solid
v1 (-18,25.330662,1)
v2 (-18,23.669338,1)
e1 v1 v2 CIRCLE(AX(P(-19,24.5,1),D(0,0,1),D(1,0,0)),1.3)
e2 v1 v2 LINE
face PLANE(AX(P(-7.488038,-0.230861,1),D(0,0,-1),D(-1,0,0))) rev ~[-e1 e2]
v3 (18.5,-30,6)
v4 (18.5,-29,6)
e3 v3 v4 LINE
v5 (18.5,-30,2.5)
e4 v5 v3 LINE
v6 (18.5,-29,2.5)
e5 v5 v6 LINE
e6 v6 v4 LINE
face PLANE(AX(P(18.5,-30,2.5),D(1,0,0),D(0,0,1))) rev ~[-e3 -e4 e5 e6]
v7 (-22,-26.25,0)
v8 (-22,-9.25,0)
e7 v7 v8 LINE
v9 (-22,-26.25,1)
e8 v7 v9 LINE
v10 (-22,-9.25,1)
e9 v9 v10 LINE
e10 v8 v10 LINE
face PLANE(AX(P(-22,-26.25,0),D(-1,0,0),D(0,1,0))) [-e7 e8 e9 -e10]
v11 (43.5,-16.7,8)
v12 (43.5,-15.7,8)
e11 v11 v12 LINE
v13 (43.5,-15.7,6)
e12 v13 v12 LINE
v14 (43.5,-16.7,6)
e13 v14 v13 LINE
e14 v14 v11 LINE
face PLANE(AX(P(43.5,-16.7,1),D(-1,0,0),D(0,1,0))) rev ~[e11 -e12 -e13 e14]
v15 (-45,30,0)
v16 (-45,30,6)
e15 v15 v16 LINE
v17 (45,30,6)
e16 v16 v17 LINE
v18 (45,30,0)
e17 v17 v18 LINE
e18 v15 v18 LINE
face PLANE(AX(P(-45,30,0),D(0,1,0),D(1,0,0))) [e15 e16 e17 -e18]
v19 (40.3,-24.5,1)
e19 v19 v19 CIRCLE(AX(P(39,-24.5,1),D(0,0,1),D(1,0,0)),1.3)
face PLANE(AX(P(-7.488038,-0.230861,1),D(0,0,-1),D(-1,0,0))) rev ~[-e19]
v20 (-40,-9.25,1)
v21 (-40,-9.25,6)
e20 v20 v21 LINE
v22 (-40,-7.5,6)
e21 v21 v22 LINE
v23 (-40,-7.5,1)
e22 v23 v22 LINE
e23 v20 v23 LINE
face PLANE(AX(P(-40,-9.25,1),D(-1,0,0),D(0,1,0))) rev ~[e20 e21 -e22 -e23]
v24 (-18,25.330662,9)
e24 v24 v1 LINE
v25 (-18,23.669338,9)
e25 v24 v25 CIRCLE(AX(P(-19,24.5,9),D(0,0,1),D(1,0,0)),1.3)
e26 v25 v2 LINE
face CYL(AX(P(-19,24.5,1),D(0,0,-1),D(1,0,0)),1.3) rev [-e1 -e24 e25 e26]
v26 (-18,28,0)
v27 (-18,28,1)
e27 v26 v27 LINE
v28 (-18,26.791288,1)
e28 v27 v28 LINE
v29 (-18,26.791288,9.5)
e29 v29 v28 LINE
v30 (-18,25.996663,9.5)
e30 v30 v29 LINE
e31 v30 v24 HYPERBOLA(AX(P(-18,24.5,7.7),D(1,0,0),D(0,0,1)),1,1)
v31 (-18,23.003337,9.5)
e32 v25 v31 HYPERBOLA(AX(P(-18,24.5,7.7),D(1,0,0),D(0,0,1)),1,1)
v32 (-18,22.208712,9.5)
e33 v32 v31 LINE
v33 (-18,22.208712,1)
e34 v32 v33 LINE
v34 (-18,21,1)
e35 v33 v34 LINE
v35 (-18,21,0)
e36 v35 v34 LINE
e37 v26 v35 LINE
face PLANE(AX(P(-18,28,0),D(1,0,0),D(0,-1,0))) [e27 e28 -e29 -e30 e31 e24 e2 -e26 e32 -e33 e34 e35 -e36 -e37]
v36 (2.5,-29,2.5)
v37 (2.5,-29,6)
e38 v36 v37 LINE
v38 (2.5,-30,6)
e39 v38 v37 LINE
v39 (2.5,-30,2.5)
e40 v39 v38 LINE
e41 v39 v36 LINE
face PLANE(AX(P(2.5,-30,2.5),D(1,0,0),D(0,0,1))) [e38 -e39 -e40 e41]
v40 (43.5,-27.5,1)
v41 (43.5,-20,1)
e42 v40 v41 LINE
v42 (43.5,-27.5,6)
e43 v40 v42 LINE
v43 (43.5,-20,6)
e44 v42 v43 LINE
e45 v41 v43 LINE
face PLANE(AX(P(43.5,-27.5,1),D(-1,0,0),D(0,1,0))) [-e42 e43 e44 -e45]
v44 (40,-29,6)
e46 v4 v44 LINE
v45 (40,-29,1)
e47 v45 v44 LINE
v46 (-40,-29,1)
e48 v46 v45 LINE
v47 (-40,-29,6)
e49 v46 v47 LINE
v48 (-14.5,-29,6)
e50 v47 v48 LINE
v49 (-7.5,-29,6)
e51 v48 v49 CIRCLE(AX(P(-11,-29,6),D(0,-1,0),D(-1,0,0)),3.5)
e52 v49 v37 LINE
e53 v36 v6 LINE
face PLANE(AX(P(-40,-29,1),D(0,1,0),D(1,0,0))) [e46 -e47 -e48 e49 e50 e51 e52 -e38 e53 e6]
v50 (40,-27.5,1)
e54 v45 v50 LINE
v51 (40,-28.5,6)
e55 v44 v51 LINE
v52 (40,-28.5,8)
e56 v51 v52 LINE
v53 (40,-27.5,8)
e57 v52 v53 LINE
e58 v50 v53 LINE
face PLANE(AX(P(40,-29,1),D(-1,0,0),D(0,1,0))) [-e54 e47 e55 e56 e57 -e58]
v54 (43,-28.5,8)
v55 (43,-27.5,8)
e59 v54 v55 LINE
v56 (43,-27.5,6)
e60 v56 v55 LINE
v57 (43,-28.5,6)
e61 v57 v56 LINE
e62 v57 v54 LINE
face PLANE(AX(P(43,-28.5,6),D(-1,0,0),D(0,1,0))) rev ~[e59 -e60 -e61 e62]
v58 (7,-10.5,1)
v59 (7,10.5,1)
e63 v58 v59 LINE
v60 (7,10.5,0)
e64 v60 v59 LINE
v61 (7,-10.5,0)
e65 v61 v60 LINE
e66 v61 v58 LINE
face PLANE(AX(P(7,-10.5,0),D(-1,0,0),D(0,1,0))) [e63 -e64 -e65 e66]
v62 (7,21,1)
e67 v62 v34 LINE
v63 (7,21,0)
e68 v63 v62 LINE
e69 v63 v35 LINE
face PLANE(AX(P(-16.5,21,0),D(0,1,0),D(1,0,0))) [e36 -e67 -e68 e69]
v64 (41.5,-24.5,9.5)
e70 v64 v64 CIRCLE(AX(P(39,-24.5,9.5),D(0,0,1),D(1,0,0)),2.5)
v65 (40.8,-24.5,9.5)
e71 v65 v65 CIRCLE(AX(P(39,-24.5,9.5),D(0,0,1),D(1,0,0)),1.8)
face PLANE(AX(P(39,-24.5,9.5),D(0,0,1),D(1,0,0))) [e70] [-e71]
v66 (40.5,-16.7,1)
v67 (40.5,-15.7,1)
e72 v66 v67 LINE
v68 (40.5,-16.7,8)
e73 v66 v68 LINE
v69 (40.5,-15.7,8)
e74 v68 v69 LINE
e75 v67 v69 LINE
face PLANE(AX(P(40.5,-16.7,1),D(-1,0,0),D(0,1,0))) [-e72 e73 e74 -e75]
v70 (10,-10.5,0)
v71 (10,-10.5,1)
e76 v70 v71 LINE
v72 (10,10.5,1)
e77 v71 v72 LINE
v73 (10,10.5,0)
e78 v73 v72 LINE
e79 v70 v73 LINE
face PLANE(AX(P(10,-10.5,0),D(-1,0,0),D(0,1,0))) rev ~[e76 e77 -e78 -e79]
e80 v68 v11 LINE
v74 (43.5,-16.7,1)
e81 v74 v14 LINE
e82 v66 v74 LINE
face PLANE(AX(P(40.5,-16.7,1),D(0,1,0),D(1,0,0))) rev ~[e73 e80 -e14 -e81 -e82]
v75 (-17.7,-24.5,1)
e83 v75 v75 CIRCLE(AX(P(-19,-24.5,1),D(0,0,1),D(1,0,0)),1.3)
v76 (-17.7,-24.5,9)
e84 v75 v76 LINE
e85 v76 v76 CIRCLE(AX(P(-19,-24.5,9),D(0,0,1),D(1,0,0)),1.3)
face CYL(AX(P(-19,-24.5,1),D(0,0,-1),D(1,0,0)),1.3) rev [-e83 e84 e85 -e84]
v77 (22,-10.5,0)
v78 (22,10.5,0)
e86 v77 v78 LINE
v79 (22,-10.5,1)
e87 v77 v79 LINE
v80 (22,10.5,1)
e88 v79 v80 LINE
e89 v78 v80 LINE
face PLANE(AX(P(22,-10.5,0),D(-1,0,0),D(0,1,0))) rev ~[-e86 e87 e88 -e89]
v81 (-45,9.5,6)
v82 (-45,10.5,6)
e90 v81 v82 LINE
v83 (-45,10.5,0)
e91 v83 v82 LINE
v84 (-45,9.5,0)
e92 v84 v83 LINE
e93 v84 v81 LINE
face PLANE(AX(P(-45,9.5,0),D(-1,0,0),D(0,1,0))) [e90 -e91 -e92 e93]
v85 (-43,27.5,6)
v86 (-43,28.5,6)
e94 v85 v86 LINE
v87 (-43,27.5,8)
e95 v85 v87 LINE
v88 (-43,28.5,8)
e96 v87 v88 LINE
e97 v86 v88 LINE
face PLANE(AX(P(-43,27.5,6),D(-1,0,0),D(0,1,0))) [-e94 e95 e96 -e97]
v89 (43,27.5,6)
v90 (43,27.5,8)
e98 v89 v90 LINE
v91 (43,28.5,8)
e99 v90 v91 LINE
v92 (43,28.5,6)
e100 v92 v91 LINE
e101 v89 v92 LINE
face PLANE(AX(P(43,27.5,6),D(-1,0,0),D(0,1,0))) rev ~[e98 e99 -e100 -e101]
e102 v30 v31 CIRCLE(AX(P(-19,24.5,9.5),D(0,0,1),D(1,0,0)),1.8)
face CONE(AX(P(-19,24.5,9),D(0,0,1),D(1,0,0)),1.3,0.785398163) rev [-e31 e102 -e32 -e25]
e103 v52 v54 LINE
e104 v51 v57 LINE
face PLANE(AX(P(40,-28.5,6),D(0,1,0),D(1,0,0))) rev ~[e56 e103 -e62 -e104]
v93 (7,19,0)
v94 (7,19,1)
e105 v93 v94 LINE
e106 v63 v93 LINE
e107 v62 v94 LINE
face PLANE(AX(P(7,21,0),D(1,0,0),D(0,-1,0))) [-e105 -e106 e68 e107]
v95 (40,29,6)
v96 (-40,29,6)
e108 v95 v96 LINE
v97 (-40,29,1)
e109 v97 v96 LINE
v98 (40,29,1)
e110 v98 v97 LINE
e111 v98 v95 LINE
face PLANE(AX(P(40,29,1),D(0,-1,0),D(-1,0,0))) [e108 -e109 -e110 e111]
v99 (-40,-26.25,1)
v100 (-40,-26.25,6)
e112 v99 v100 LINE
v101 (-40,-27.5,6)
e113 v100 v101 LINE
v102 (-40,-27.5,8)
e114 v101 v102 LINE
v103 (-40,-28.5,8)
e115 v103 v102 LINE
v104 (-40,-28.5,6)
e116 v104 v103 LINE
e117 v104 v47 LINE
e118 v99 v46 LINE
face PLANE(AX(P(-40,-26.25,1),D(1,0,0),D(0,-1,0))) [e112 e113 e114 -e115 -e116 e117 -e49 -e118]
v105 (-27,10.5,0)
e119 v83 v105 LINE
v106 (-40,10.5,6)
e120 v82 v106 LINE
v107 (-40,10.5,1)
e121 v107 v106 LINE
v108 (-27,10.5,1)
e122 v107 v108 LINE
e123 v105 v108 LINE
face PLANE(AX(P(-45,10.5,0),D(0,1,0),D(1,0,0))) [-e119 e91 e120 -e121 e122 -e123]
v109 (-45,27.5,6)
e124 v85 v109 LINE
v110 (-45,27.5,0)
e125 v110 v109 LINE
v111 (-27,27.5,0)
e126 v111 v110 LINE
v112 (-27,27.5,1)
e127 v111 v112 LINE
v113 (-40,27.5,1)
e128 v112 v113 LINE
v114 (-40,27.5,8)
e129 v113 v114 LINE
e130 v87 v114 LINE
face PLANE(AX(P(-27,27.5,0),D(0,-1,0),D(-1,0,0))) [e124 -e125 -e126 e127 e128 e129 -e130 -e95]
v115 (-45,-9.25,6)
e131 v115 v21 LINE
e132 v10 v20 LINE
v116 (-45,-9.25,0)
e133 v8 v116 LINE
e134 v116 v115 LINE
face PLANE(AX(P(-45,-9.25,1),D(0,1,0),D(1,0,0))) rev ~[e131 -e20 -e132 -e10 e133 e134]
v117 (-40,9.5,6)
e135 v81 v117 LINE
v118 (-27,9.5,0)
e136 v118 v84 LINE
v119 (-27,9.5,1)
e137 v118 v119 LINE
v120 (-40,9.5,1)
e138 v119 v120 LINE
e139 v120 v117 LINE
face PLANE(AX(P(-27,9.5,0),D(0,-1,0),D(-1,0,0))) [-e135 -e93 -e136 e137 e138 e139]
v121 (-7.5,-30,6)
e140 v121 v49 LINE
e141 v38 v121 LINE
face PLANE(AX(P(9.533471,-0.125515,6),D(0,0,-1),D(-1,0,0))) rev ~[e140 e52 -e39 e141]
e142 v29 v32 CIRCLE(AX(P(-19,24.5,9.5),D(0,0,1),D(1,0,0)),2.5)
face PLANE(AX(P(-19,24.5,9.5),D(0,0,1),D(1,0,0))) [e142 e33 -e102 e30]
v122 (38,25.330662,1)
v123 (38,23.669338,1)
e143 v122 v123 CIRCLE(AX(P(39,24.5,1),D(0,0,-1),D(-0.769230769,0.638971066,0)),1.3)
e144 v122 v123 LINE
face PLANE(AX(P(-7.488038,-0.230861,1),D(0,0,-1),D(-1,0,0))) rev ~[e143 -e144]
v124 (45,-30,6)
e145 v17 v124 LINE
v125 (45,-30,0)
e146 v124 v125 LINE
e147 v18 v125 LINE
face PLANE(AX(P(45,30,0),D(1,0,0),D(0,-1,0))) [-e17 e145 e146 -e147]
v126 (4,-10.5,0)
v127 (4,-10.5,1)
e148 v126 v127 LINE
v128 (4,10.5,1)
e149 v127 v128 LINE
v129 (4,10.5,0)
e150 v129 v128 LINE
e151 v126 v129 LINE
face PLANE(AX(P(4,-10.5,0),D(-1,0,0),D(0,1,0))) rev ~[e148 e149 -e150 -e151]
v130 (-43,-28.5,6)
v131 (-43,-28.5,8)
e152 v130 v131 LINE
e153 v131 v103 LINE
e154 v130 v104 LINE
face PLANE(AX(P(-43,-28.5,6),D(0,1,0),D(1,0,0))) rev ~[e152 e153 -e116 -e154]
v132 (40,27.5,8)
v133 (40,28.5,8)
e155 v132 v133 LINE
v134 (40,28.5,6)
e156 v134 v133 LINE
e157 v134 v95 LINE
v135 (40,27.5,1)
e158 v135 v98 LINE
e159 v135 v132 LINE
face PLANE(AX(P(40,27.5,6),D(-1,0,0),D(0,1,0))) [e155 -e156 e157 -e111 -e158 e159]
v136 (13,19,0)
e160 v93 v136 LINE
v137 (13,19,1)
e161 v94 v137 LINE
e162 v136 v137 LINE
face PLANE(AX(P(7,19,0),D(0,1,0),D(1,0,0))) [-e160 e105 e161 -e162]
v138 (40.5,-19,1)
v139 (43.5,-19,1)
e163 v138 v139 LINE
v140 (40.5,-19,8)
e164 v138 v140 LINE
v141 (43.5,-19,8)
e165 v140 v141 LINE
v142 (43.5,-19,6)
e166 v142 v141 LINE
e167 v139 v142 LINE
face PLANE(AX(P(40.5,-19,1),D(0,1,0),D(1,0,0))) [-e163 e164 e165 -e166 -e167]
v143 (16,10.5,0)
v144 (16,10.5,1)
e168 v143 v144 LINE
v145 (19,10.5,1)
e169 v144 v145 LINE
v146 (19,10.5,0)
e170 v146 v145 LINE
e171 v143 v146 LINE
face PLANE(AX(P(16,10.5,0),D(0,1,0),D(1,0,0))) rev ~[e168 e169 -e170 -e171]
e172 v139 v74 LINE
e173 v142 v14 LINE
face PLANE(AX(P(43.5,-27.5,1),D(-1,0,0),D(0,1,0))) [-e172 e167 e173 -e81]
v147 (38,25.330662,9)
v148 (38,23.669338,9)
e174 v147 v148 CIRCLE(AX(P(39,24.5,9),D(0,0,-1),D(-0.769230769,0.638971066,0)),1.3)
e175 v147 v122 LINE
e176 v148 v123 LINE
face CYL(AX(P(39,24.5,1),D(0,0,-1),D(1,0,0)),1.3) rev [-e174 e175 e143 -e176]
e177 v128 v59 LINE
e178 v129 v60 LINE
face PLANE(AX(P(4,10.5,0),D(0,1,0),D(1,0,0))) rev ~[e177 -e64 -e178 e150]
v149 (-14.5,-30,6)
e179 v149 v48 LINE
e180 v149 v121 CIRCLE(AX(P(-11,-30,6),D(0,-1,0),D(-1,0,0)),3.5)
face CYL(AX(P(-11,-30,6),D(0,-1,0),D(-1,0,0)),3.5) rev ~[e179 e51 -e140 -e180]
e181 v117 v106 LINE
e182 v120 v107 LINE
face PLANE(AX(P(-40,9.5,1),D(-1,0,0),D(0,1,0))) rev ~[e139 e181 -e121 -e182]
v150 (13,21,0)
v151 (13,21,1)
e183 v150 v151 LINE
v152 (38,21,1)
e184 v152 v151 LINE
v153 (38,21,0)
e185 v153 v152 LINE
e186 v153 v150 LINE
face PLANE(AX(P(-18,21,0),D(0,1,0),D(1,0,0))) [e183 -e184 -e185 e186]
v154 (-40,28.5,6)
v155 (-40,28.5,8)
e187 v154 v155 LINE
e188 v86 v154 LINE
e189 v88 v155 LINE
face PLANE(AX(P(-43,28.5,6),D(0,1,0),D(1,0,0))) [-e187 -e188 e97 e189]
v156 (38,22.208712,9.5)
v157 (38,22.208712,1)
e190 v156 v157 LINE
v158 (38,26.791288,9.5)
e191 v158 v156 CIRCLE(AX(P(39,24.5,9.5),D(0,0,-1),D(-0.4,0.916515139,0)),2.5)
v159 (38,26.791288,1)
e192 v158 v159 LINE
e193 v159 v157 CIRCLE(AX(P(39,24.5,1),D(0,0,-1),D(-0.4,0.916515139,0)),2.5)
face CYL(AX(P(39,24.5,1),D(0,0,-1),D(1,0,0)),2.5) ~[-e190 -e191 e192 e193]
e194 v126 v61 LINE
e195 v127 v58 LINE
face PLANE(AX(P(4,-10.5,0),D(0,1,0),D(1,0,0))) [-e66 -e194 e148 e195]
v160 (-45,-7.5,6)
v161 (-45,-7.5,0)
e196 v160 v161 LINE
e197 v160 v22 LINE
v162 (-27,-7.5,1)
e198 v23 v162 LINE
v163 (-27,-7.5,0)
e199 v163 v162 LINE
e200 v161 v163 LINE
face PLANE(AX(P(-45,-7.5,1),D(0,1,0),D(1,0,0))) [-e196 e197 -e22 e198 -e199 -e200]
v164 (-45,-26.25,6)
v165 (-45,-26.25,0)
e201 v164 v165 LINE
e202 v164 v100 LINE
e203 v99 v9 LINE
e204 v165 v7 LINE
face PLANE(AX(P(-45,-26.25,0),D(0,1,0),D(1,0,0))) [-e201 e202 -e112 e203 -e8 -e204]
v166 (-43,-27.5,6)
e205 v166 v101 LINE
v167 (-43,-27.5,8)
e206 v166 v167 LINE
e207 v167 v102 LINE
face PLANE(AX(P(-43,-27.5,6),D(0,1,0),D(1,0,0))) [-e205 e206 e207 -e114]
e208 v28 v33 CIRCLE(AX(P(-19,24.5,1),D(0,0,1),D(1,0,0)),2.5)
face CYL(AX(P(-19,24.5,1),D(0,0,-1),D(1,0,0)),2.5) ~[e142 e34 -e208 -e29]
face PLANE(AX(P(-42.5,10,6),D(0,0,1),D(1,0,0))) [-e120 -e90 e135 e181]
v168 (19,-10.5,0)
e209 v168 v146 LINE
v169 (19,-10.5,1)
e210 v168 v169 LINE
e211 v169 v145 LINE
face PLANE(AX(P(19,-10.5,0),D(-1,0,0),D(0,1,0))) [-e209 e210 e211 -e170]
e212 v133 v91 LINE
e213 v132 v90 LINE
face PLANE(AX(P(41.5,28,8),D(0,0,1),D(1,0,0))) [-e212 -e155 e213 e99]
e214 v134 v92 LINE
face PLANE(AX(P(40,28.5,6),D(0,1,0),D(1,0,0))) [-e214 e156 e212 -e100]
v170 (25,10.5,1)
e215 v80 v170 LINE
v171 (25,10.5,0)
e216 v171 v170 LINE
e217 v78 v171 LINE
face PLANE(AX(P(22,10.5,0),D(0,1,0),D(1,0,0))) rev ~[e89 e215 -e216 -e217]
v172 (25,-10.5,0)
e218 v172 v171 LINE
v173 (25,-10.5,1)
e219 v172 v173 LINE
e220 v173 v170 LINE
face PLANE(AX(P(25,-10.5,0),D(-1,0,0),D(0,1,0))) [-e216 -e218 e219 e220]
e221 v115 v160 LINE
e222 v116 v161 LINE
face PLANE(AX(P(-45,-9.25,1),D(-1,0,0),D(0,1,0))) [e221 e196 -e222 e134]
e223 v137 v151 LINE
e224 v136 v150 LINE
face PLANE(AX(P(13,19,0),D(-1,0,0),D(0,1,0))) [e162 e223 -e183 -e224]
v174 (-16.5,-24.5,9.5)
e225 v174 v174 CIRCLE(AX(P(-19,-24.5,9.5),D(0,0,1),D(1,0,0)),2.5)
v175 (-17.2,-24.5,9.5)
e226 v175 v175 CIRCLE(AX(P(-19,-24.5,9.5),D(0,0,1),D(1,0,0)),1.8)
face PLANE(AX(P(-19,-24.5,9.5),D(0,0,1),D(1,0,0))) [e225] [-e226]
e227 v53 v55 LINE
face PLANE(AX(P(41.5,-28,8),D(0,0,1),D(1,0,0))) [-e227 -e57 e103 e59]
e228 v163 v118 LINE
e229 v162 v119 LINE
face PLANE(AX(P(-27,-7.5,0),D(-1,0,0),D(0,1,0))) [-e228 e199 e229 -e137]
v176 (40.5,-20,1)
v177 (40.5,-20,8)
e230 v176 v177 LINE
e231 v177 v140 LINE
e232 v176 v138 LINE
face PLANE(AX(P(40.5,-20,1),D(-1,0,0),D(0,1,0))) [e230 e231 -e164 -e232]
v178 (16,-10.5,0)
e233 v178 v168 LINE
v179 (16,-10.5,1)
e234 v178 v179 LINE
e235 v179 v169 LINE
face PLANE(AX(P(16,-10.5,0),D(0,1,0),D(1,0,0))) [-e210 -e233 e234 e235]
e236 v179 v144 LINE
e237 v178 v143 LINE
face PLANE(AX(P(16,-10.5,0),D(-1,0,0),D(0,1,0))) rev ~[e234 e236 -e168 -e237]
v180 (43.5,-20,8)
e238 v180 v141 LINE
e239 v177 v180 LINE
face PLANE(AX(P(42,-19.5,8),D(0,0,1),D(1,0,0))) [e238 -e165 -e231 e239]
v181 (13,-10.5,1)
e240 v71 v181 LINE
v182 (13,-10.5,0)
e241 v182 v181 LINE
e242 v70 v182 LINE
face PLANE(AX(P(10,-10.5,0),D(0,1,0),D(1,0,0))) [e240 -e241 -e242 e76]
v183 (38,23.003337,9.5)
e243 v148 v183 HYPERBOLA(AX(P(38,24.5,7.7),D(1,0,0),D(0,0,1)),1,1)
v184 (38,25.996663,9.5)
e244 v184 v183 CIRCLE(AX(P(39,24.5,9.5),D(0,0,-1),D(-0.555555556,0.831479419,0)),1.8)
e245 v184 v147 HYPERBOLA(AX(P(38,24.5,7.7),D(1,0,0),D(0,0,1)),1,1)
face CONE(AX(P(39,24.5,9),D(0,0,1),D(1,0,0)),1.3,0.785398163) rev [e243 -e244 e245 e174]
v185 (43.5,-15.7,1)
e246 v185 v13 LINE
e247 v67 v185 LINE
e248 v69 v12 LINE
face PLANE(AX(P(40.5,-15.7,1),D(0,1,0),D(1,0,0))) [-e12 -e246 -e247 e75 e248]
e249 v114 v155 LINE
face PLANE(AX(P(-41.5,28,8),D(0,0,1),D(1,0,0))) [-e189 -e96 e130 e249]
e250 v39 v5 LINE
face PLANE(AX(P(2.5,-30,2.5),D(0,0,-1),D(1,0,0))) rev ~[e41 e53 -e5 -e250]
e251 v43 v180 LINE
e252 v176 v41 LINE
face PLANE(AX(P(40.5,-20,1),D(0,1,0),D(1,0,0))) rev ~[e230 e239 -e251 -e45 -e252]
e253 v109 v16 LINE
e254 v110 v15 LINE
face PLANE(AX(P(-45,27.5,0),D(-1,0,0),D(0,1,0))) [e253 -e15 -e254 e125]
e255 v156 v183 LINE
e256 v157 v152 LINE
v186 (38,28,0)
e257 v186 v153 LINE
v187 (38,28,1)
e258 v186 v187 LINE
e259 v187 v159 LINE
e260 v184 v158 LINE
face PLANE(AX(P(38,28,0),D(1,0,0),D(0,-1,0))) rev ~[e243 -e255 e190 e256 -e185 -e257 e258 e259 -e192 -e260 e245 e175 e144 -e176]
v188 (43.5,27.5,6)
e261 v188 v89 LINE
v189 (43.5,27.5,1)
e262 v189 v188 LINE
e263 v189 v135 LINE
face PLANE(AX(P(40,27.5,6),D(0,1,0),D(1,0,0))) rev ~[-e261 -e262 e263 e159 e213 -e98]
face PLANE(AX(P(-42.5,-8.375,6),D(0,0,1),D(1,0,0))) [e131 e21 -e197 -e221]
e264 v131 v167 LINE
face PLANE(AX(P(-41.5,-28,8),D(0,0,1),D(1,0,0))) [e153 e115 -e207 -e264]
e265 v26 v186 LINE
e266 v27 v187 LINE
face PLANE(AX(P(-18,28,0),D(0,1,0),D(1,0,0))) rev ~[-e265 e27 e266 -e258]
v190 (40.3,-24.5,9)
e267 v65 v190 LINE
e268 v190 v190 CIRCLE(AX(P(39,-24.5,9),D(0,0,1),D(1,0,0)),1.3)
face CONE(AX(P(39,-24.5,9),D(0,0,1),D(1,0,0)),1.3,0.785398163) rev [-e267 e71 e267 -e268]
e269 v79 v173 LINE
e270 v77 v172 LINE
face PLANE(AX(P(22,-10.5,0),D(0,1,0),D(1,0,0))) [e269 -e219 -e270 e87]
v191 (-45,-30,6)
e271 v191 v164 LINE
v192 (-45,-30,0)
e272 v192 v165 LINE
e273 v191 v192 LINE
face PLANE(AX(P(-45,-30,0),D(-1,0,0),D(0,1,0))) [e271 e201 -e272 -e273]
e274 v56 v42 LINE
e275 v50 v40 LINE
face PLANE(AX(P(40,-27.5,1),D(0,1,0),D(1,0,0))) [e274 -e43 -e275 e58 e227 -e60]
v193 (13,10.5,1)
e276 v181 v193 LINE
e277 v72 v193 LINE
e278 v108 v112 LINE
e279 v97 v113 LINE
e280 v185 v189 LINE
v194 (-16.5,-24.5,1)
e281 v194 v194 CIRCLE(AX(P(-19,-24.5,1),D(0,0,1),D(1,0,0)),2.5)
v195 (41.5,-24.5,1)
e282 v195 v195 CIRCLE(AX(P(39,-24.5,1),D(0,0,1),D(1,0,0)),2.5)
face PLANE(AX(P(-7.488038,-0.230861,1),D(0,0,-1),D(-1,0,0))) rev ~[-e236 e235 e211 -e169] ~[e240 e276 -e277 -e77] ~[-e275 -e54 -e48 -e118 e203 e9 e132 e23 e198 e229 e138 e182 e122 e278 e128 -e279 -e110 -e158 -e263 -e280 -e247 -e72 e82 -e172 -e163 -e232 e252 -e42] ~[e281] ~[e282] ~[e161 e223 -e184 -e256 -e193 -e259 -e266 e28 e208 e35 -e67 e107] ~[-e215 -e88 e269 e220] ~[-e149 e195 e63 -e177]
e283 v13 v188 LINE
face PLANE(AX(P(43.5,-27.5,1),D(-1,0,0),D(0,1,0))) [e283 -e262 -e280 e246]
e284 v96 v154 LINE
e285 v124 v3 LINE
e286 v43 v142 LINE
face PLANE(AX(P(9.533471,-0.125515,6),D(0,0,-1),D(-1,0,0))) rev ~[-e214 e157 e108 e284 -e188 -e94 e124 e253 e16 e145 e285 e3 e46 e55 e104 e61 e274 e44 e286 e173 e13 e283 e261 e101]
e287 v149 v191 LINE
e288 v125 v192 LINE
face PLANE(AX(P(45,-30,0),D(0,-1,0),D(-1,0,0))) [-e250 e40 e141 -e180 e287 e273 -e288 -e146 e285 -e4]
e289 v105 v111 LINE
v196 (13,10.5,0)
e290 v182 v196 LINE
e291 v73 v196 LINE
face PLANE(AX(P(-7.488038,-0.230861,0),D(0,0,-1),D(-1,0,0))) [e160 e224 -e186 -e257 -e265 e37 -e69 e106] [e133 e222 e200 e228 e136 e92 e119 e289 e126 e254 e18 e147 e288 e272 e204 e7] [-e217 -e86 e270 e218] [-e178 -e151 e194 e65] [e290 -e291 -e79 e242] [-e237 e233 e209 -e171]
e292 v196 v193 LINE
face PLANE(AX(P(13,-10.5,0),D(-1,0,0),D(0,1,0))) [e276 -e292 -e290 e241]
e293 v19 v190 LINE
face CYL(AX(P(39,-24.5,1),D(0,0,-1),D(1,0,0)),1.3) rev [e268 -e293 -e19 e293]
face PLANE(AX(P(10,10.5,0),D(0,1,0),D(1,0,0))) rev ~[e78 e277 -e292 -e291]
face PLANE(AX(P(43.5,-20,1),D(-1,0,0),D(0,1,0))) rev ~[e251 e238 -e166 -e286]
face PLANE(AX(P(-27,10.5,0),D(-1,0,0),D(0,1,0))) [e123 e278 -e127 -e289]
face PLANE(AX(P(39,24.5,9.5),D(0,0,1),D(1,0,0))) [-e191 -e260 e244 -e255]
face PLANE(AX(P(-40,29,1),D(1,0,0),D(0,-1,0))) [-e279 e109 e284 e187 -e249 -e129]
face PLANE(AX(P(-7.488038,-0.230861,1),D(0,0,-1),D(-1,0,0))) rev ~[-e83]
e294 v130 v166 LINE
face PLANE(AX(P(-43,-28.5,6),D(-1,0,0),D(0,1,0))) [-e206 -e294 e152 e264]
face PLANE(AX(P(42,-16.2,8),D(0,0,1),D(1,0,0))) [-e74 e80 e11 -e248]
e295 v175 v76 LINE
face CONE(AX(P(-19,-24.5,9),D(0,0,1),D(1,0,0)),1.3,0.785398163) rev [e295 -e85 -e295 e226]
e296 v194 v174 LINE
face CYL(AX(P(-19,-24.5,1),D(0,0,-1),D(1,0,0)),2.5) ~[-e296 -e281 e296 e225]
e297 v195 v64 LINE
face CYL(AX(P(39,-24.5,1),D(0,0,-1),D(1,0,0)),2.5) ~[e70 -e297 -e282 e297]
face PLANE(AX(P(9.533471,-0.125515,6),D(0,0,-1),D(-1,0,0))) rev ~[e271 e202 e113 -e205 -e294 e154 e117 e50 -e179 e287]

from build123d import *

# Parameters (mm, degrees)
SKETCH_W        = 3
SKETCH_H        = 21
PAD_DEPTH       = 1
SKETCH001_W     = 5
SKETCH001_H     = 1.75
SKETCH001_H_2   = 1
PAD001_DEPTH    = 5
SKETCH002_W     = 3
SKETCH002_H     = 1
PAD002_DEPTH    = 2
SKETCH003_R     = 2.5
SKETCH003_R_2   = 1.3
PAD003_DEPTH    = 8.5
SKETCH004_W     = 16
SKETCH004_H     = 3.5
POCKET_DEPTH    = 1
CHAMFER_SIZE    = 0.5
SKETCH005_W     = 3
SKETCH005_H     = 1
PAD004_DEPTH    = 7
SKETCH006_W     = 56
SKETCH006_H     = 7
POCKET001_DEPTH = 9.501


with BuildPart() as part:
    # Sketch → Pad (new body)
    with BuildSketch(Plane.XY):
        Polygon((-45, 30), (45, 30), (45, -30), (-45, -30), (-45, -26.25), (-22, -26.25), (-22, -9.25), (-45, -9.25), (-45, -7.5), (-27, -7.5), (-27, 9.5), (-45, 9.5), (-45, 10.5), (-27, 10.5), (-27, 27.5), (-45, 27.5), align=None)
        Polygon((36.5, 21), (36.5, 28), (-16.5, 28), (-16.5, 21), (7, 21), (7, 19), (13, 19), (13, 21), align=None, mode=Mode.SUBTRACT)
        with Locations((5.5, 0)):
            Rectangle(SKETCH_W, SKETCH_H, mode=Mode.SUBTRACT)
        with Locations((11.5, 0)):
            Rectangle(SKETCH_W, SKETCH_H, mode=Mode.SUBTRACT)
        with Locations((17.5, 0)):
            Rectangle(SKETCH_W, SKETCH_H, mode=Mode.SUBTRACT)
        with Locations((23.5, 0)):
            Rectangle(SKETCH_W, SKETCH_H, mode=Mode.SUBTRACT)
    extrude(amount=PAD_DEPTH)

    # Sketch001 (on Face42 of Pad) → Pad001 (join)
    with BuildSketch(Plane.XY.offset(1)):
        with Locations((-42.5, -8.375)):
            Rectangle(SKETCH001_W, SKETCH001_H)
        with Locations((-42.5, 10)):
            Rectangle(SKETCH001_W, SKETCH001_H_2)
        Polygon((-45, 30), (45, 30), (45, -30), (-45, -30), (-45, -26.25), (-40, -26.25), (-40, -29), (40, -29), (40, -27.5), (43.5, -27.5), (43.5, 27.5), (40, 27.5), (40, 29), (-40, 29), (-40, 27.5), (-45, 27.5), align=None)
    extrude(amount=PAD001_DEPTH)

    # Sketch002 (on Face56 of Pad001) → Pad002 (join)
    with BuildSketch(Plane.XY.offset(6)):
        with Locations((41.5, 28)):
            Rectangle(SKETCH002_W, SKETCH002_H)
        with Locations((-41.5, 28)):
            Rectangle(SKETCH002_W, SKETCH002_H)
        with Locations((-41.5, -28)):
            Rectangle(SKETCH002_W, SKETCH002_H)
        with Locations((41.5, -28)):
            Rectangle(SKETCH002_W, SKETCH002_H)
    extrude(amount=PAD002_DEPTH)

    # Sketch003 (on Face47 of Pad002) → Pad003 (join)
    with BuildSketch(Plane.XY.offset(1)):
        with Locations((-19, 24.5)):
            Circle(SKETCH003_R)
        with Locations((-19, 24.5)):
            Circle(SKETCH003_R_2, mode=Mode.SUBTRACT)
        with Locations((39, 24.5)):
            Circle(SKETCH003_R)
        with Locations((39, 24.5)):
            Circle(SKETCH003_R_2, mode=Mode.SUBTRACT)
        with Locations((-19, -24.5)):
            Circle(SKETCH003_R)
        with Locations((-19, -24.5)):
            Circle(SKETCH003_R_2, mode=Mode.SUBTRACT)
        with Locations((39, -24.5)):
            Circle(SKETCH003_R)
        with Locations((39, -24.5)):
            Circle(SKETCH003_R_2, mode=Mode.SUBTRACT)
    extrude(amount=PAD003_DEPTH)

    # Sketch004 (on Face45 of Pad003) → Pocket (cut)
    with BuildSketch(Plane.XZ.offset(30)):
        with BuildLine():
            ThreePointArc((-14.5, 6), (-11, 2.5), (-7.5, 6))
            Line((-14.5, 6), (-7.5, 6))
        make_face()
        with Locations((10.5, 4.25)):
            Rectangle(SKETCH004_W, SKETCH004_H)
    extrude(amount=-POCKET_DEPTH, mode=Mode.SUBTRACT)

    # Chamfer
    chamfer_edges = [part.edges().sort_by_distance(p)[0] for p in [
        (-20.3, 24.5, 9.5),
        (37.7, 24.5, 9.5),
        (-20.3, -24.5, 9.5),
        (37.7, -24.5, 9.5),
    ]]
    chamfer(chamfer_edges, length=CHAMFER_SIZE)

    # Sketch005 (on Face5 of Chamfer) → Pad004 (join)
    with BuildSketch(Plane.XY.offset(1)):
        with Locations((42, -16.2)):
            Rectangle(SKETCH005_W, SKETCH005_H)
        with Locations((42, -19.5)):
            Rectangle(SKETCH005_W, SKETCH005_H)
    extrude(amount=PAD004_DEPTH)

    # Sketch006 (on Face63 of Pad004) → Pocket001 (cut, through all)
    with BuildSketch(Plane(origin=(0, 0, 0), x_dir=(1, 0, 0), z_dir=(0, 0, -1))):
        with Locations((10, -24.5)):
            Rectangle(SKETCH006_W, SKETCH006_H)
    extrude(amount=-POCKET001_DEPTH, mode=Mode.SUBTRACT)


solid = part.part
